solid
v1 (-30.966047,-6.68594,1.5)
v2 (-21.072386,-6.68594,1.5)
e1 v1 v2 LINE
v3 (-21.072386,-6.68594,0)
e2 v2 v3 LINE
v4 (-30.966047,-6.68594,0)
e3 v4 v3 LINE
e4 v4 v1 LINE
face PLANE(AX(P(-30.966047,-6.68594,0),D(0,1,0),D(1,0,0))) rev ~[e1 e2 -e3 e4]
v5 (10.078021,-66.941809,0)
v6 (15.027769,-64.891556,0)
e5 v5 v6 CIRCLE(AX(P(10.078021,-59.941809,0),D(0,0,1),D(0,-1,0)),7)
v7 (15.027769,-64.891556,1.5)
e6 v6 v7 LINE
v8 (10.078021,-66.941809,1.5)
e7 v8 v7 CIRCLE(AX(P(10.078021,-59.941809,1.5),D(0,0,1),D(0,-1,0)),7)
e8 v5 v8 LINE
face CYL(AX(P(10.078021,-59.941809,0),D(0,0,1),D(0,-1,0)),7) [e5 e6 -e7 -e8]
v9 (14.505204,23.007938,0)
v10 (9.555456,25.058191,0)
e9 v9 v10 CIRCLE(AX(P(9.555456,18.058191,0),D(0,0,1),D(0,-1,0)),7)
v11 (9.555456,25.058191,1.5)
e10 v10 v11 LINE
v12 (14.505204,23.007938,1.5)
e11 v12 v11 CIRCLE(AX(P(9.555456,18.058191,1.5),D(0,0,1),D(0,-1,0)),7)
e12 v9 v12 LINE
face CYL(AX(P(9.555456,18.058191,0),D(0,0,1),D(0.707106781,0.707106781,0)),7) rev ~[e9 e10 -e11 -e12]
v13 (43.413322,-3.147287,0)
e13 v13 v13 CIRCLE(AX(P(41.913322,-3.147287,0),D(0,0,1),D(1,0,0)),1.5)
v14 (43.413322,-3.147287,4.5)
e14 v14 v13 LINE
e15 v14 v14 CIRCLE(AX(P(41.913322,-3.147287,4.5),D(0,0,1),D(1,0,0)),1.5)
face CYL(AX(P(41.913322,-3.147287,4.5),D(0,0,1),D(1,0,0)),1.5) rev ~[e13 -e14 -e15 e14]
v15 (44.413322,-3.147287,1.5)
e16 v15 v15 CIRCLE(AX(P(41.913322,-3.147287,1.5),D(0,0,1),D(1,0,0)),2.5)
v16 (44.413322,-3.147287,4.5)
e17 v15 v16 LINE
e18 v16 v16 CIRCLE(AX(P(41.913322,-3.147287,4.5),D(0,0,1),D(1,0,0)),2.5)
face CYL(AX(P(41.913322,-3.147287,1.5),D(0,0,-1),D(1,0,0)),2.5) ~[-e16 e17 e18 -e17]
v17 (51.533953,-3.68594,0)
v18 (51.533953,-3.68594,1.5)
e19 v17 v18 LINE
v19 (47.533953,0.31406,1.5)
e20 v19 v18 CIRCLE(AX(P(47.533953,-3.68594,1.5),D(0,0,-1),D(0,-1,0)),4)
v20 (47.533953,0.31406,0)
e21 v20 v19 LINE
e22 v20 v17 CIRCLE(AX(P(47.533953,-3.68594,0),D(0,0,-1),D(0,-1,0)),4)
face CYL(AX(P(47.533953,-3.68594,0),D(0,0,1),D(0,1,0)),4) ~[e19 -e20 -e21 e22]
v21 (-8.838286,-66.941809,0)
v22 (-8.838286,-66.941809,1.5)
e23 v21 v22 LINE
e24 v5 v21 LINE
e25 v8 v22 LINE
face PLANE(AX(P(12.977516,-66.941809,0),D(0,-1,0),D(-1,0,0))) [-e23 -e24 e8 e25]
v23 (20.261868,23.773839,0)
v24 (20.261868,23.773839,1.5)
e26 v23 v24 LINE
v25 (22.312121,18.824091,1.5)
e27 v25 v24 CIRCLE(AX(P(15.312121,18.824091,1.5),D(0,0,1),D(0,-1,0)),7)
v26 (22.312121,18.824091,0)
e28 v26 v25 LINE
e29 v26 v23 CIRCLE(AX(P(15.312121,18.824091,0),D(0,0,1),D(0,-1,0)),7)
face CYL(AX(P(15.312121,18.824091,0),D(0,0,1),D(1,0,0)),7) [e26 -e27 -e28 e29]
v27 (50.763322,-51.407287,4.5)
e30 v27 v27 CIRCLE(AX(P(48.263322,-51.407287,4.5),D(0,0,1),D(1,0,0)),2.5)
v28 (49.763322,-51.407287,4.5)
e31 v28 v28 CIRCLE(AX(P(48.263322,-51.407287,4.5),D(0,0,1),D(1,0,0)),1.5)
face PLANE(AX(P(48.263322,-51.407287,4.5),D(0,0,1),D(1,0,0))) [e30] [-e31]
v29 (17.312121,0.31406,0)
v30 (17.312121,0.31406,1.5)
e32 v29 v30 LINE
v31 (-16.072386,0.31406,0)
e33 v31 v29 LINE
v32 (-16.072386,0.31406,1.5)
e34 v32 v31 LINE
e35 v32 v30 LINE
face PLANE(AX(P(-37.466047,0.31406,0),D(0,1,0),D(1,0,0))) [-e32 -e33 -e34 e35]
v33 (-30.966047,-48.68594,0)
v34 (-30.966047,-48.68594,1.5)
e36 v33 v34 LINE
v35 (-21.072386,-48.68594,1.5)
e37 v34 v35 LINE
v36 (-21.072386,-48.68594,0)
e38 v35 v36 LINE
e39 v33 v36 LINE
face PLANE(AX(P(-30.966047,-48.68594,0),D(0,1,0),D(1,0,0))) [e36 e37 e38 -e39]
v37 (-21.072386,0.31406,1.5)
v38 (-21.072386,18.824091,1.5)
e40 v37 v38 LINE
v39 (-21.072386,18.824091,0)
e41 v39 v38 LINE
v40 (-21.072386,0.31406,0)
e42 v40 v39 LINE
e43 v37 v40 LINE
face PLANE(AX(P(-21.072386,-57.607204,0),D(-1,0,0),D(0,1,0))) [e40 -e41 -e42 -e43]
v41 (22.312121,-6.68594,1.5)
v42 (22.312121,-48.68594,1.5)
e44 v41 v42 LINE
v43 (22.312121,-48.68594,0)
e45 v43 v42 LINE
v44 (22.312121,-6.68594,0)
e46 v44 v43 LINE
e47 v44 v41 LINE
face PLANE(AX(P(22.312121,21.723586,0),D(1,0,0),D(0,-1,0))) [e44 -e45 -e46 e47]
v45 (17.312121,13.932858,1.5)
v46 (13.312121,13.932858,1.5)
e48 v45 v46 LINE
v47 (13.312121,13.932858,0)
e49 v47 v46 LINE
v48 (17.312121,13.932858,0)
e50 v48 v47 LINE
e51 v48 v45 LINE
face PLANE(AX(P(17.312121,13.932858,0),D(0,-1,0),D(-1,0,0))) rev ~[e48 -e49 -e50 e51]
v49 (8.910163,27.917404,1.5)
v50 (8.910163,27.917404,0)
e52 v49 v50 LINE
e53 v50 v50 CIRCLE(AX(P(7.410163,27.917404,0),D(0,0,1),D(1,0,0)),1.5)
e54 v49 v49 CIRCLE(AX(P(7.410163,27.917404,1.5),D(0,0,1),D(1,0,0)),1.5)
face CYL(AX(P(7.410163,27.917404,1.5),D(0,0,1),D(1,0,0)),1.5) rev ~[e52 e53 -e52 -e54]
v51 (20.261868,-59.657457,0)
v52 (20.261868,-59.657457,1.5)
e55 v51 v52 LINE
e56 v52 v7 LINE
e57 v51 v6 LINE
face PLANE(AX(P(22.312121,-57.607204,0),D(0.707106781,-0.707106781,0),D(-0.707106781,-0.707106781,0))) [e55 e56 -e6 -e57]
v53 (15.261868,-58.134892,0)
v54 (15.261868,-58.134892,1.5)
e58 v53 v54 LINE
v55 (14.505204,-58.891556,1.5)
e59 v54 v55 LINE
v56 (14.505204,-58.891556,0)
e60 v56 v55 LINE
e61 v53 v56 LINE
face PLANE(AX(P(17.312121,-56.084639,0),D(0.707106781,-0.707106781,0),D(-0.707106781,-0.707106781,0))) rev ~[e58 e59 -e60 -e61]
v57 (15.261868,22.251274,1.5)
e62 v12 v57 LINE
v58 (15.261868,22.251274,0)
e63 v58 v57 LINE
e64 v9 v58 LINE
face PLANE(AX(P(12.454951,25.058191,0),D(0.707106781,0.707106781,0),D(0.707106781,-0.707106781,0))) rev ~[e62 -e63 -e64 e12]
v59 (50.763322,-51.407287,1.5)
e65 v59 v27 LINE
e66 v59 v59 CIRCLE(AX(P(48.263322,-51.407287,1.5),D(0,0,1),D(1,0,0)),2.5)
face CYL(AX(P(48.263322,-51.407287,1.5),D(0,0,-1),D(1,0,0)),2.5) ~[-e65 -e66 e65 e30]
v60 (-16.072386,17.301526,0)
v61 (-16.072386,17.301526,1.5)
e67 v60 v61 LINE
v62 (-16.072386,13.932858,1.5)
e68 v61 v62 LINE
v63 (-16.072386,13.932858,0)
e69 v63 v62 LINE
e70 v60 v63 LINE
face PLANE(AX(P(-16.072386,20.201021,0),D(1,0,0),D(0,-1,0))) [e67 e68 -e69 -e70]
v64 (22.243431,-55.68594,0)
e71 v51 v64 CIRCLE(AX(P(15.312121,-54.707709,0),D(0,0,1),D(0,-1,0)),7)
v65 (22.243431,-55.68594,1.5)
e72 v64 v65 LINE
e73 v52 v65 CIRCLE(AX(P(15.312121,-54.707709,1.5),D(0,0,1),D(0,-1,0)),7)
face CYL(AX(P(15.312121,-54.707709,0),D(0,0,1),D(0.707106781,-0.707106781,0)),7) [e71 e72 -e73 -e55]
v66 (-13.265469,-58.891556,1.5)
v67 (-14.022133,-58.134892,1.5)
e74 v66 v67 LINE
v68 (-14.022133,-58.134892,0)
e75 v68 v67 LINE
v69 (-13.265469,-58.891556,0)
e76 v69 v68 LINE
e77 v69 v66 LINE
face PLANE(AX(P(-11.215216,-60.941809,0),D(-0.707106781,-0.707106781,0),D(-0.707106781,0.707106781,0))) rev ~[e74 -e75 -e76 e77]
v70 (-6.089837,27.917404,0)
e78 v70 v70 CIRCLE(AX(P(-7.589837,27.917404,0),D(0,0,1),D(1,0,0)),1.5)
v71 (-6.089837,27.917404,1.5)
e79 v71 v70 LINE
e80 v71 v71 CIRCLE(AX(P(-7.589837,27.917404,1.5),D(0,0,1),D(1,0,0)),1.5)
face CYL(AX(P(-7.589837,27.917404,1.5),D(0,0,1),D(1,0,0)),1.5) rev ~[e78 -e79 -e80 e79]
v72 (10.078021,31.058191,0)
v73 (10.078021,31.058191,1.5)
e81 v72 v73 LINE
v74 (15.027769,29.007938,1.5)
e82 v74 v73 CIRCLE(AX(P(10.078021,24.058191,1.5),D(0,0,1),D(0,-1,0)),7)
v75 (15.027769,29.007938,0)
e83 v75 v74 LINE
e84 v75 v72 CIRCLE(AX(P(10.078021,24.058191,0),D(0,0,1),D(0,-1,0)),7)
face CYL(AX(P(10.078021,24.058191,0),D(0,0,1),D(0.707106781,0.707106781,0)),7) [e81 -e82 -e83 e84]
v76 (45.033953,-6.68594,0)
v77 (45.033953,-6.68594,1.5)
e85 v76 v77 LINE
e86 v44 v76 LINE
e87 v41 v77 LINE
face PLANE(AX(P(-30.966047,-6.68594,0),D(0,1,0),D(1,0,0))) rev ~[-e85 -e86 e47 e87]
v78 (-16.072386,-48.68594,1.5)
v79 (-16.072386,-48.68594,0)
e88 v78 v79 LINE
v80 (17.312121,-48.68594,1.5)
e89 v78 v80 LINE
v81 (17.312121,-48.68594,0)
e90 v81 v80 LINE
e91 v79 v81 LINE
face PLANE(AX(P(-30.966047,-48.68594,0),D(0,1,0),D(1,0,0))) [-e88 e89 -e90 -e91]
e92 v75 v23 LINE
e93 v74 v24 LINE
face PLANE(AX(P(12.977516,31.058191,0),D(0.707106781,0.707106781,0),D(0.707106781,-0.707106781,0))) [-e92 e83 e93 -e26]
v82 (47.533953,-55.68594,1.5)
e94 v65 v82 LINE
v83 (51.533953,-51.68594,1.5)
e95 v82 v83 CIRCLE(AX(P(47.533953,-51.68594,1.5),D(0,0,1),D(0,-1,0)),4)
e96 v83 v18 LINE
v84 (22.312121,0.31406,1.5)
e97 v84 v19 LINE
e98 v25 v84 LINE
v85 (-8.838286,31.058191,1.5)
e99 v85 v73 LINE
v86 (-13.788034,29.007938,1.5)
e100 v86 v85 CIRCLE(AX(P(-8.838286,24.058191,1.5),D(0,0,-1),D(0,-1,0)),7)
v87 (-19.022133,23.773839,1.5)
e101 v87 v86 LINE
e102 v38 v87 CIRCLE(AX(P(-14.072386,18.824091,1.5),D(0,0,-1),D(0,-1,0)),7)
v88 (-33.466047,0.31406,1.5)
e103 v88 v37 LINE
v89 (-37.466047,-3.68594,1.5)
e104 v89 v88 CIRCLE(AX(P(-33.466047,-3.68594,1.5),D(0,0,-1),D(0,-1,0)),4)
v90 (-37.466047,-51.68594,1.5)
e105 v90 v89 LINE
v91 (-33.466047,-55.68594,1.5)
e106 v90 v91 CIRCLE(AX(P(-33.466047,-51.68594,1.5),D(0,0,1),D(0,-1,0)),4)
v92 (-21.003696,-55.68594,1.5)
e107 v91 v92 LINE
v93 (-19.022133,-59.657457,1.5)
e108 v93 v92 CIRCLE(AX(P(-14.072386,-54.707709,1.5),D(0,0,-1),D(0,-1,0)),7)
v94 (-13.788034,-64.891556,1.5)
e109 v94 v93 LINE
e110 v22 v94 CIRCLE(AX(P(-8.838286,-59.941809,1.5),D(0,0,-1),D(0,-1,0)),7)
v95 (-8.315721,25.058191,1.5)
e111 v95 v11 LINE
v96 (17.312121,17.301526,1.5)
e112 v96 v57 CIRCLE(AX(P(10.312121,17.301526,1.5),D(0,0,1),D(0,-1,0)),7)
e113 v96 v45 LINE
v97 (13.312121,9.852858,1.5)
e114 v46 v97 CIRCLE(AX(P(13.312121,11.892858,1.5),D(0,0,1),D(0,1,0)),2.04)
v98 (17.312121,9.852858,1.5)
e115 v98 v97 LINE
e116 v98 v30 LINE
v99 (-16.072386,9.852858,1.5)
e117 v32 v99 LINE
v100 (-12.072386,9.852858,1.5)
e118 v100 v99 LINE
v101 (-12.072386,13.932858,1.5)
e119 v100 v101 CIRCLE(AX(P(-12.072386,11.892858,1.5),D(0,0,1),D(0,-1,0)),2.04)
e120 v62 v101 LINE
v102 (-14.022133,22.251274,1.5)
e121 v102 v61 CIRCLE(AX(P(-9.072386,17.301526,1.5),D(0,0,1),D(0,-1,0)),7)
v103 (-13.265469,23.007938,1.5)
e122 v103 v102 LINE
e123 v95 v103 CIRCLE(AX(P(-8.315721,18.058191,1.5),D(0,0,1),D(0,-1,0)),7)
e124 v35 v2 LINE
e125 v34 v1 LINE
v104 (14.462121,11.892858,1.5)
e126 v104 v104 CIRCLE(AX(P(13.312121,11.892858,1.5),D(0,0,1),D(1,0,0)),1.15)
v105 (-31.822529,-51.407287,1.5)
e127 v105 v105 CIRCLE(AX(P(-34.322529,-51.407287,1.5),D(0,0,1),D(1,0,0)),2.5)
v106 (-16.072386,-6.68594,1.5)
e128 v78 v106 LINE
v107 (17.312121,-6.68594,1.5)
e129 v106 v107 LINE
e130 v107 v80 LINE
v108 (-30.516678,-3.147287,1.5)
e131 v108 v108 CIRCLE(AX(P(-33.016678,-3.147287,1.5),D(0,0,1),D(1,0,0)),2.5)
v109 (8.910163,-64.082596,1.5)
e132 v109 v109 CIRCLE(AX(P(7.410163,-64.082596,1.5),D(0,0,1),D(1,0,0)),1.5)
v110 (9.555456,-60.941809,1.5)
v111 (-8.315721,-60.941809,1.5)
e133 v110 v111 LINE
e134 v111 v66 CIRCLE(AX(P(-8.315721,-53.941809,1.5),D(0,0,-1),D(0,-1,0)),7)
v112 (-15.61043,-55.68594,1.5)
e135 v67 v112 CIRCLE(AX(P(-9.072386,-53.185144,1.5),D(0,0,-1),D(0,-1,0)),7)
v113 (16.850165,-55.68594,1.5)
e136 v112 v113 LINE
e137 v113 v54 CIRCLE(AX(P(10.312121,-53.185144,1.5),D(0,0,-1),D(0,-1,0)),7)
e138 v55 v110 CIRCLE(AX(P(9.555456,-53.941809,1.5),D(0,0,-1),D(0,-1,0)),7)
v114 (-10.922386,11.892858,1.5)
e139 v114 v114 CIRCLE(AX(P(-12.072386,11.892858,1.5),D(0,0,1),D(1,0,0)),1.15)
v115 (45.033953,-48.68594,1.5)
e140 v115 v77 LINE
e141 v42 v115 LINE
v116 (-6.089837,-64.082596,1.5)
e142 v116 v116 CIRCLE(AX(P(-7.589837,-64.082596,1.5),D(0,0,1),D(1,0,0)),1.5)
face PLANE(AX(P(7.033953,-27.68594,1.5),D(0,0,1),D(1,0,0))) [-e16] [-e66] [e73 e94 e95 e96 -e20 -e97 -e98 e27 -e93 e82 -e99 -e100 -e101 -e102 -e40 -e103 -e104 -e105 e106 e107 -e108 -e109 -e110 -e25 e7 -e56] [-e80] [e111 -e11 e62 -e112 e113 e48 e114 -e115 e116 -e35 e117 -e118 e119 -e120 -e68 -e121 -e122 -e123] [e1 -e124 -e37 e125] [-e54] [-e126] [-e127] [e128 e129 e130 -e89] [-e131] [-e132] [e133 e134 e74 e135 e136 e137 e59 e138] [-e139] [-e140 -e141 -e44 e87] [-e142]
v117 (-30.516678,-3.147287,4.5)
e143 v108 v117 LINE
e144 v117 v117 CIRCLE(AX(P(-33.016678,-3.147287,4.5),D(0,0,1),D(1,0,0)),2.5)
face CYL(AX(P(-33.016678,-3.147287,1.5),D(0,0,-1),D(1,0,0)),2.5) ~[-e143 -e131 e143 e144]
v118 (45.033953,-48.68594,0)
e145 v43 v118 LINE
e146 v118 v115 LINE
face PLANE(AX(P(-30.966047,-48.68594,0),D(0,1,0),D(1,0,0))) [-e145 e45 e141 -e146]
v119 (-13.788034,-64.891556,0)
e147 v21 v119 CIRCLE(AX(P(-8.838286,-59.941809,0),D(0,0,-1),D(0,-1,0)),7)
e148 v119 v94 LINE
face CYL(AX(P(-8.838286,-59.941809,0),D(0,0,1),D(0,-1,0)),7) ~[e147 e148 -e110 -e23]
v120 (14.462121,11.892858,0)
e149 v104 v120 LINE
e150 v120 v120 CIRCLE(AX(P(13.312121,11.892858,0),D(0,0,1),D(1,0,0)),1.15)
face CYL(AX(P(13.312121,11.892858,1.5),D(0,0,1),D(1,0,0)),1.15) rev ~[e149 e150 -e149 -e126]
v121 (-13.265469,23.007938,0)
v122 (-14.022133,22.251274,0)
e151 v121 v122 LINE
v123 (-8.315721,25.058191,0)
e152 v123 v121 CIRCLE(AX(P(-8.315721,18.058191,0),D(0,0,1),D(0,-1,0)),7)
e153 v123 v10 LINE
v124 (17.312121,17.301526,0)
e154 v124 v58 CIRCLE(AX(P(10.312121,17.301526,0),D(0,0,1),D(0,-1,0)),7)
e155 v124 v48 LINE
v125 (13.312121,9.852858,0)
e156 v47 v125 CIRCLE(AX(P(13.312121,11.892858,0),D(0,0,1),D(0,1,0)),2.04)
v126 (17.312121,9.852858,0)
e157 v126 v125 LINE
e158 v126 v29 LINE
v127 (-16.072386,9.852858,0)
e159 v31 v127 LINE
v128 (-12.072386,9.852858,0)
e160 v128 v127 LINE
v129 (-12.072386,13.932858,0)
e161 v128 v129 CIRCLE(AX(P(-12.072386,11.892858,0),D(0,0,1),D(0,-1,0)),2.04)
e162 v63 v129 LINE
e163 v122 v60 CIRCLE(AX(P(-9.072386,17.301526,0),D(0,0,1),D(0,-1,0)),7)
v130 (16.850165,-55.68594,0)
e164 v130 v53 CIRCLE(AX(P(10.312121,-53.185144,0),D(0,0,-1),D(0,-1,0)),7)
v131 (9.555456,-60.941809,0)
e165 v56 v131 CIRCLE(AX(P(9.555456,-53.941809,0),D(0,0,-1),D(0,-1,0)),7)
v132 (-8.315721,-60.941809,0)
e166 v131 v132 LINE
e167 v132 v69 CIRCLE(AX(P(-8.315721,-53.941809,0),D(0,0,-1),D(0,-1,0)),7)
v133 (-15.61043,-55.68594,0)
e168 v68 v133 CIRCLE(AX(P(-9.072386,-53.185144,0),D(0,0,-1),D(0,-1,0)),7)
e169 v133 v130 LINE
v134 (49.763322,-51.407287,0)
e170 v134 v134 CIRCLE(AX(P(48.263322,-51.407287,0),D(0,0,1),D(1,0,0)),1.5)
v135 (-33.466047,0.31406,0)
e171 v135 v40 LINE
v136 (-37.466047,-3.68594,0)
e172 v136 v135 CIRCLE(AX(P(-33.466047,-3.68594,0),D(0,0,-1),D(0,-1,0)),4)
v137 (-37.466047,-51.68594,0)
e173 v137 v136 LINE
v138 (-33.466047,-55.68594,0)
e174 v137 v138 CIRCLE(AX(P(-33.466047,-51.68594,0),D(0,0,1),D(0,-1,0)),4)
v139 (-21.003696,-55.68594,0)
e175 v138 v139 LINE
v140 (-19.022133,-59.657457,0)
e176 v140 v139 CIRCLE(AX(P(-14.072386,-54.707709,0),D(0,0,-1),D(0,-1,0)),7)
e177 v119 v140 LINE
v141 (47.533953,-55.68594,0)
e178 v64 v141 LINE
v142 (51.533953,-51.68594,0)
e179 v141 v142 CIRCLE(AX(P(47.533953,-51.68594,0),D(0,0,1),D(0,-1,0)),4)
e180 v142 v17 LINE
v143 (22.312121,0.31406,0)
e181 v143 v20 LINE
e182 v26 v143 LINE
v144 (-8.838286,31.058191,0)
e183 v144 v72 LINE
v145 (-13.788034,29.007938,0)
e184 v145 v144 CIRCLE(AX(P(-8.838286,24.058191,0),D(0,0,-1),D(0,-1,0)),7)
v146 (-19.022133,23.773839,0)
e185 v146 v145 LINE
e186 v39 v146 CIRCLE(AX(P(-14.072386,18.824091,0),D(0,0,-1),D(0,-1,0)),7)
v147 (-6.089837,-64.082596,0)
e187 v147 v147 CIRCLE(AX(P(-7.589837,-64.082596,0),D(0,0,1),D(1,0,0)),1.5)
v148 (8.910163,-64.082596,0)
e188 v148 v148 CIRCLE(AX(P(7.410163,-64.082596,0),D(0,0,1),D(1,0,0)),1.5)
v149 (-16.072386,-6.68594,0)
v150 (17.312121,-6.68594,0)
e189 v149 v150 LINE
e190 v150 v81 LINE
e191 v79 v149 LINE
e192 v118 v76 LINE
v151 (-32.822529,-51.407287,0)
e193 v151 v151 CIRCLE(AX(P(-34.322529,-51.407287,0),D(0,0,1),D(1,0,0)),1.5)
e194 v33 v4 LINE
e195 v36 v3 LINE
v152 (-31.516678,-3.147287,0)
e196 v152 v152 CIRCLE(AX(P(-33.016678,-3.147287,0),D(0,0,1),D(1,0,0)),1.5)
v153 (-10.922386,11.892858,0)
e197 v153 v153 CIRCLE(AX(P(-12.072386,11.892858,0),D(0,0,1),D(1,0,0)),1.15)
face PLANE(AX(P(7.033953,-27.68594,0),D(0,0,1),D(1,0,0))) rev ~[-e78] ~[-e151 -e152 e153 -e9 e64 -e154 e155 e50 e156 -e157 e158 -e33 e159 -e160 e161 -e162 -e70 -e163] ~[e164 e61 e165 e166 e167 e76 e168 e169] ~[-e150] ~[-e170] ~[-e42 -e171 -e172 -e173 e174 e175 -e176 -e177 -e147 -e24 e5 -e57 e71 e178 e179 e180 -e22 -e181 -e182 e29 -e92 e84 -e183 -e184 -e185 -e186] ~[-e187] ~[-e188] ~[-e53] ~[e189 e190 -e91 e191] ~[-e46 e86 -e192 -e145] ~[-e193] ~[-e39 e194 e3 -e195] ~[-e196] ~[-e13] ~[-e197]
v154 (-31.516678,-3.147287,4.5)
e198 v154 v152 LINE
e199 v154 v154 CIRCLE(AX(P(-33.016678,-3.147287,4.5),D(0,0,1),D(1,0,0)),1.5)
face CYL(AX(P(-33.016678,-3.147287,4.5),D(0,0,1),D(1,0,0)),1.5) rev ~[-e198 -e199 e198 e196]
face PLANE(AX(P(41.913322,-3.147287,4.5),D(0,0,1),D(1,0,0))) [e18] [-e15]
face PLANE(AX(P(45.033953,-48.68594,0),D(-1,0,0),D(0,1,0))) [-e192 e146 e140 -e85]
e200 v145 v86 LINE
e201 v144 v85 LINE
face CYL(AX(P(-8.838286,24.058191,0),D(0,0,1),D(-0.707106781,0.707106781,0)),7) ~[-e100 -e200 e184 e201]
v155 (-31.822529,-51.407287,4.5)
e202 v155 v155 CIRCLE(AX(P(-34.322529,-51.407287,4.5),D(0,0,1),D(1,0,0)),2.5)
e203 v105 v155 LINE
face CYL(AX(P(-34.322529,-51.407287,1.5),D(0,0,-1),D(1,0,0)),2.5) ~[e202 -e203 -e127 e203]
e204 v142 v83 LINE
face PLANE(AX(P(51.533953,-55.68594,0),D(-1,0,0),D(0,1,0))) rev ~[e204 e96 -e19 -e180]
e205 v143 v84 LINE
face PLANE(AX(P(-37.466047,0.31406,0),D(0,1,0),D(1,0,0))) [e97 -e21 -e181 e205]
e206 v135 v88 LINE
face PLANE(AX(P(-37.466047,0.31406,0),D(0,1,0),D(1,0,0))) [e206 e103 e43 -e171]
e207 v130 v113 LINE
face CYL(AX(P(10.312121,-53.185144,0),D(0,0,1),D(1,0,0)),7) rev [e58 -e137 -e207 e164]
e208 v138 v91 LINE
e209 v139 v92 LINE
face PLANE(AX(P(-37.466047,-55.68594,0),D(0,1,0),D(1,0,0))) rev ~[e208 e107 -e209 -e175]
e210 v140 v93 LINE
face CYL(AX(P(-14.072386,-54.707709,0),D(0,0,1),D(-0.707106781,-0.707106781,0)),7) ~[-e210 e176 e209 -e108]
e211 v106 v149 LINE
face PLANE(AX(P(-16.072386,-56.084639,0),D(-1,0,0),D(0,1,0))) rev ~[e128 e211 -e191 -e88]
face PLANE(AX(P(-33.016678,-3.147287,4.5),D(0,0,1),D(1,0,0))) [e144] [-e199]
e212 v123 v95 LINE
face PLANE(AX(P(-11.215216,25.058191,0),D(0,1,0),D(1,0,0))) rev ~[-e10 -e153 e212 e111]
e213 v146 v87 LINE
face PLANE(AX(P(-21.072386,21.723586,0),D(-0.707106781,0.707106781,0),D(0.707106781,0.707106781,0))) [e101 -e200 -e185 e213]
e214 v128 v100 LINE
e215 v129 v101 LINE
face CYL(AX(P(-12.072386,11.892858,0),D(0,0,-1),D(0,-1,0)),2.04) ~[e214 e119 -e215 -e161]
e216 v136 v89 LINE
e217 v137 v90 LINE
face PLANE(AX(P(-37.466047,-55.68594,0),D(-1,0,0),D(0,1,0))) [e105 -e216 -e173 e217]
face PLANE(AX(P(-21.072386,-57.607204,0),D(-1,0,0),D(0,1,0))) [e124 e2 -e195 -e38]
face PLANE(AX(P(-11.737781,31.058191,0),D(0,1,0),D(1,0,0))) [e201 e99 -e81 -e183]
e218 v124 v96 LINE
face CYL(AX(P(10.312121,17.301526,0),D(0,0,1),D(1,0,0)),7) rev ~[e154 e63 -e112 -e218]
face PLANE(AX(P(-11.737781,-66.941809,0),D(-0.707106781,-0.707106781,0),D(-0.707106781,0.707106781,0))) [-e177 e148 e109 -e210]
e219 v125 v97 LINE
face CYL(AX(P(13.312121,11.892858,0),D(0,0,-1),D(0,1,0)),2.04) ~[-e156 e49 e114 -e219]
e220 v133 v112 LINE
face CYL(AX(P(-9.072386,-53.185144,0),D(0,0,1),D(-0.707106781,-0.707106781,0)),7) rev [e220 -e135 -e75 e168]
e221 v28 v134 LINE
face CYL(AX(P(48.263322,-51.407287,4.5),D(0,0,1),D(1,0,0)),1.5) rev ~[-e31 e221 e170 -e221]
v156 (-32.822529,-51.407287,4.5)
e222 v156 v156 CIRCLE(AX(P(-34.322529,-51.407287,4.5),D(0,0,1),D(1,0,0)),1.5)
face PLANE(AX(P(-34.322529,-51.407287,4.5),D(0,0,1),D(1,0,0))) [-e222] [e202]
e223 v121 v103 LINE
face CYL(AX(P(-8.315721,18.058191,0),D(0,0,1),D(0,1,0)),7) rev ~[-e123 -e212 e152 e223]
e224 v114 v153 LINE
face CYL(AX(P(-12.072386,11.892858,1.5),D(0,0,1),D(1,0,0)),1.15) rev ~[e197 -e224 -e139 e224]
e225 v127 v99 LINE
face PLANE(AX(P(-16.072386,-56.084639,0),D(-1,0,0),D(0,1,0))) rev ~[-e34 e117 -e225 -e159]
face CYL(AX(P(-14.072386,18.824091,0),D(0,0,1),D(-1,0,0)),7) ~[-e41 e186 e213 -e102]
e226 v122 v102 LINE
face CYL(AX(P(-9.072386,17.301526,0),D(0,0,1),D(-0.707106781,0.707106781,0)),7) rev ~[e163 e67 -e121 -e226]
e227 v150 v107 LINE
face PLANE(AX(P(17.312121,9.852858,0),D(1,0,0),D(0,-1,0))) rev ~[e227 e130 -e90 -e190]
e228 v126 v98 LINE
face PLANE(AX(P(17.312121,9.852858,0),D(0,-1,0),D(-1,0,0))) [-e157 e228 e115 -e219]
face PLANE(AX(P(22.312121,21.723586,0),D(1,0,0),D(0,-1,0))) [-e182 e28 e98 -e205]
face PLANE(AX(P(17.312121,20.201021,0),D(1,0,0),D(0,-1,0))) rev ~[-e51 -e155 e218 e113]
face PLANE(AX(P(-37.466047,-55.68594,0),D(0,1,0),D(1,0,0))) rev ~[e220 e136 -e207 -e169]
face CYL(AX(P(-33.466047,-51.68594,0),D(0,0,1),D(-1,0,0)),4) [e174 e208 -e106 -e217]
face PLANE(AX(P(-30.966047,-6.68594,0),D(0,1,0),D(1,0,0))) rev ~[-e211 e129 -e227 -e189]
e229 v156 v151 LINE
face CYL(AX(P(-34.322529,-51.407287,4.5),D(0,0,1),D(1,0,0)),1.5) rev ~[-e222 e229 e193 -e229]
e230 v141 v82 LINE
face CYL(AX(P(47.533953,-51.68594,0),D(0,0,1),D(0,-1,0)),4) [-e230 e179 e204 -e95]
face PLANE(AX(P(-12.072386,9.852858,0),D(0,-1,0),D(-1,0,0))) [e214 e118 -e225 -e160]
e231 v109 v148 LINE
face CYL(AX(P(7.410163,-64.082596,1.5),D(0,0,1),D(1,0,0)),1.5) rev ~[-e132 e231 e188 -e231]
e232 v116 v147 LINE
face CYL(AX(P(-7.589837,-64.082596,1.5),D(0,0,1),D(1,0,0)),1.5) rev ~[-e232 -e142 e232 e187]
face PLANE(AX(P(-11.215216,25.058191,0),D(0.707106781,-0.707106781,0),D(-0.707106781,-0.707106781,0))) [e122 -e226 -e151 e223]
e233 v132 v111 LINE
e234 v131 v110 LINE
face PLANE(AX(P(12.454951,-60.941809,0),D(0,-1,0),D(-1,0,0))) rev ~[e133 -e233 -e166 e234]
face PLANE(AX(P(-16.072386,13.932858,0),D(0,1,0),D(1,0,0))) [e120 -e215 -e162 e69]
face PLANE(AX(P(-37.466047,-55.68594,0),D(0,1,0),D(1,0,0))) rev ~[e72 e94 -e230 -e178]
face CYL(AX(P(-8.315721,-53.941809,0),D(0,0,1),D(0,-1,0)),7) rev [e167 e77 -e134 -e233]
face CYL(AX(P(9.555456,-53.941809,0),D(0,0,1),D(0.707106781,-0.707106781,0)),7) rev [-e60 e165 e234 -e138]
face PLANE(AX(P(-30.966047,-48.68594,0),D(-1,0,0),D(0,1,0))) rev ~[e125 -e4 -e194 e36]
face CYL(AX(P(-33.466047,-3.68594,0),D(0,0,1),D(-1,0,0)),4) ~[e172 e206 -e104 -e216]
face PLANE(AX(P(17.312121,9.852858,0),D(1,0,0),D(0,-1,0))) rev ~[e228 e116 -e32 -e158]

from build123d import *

# Parameters (mm, degrees)
SKETCH_W        = 89
SKETCH_H        = 56
SKETCH_W_2      = 76
SKETCH_H_2      = 42
PAD_DEPTH       = 1.5
SKETCH001_R     = 2.5
PAD001_DEPTH    = 3
SKETCH002_R     = 1.5
POCKET_DEPTH    = 4.501
FILLET_R        = 4
PAD002_DEPTH    = 1.5
SKETCH004_R     = 1.5
SKETCH004_R_2   = 1.15
POCKET001_DEPTH = 1.501
FILLET001_R     = 7


with BuildPart() as arduinosupport:
    # Sketch → Pad (new body)
    with BuildSketch(Plane.XY):
        with Locations((7.033953, -27.68594)):
            Rectangle(SKETCH_W, SKETCH_H)
        with Locations((7.033953, -27.68594)):
            Rectangle(SKETCH_W_2, SKETCH_H_2, mode=Mode.SUBTRACT)
    extrude(amount=PAD_DEPTH)

    # Sketch001 (on Face10 of Pad) → Pad001 (join)
    with BuildSketch(Plane.XY.offset(1.5)):
        with Locations((-33.016678, -3.147287)):
            Circle(SKETCH001_R)
        with Locations((-34.322529, -51.407287)):
            Circle(SKETCH001_R)
        with Locations((41.913322, -3.147287)):
            Circle(SKETCH001_R)
        with Locations((48.263322, -51.407287)):
            Circle(SKETCH001_R)
    extrude(amount=PAD001_DEPTH)

    # Sketch002 (on Face15 of Pad001) → Pocket (cut, through all)
    with BuildSketch(Plane.XY.offset(4.5)):
        with Locations((-33.016678, -3.147287)):
            Circle(SKETCH002_R)
        with Locations((-34.322529, -51.407287)):
            Circle(SKETCH002_R)
        with Locations((48.263322, -51.407287)):
            Circle(SKETCH002_R)
        with Locations((41.913322, -3.147287)):
            Circle(SKETCH002_R)
    extrude(amount=-POCKET_DEPTH, mode=Mode.SUBTRACT)

    # Fillet
    fillet_edges = [arduinosupport.edges().sort_by_distance(p)[0] for p in [
        (51.533953, 0.31406, 0.75),
        (51.533953, -55.68594, 0.75),
        (-37.466047, -55.68594, 0.75),
        (-37.466047, 0.31406, 0.75),
    ]]
    fillet(fillet_edges, radius=FILLET_R)


with BuildPart() as muxsupport:
    # Sketch003 → Pad002 (new body)
    with BuildSketch(Plane.XY):
        Polygon((12.977516, -66.941809), (-11.737781, -66.941809), (-21.072386, -57.607204), (-21.072386, 21.723586), (-11.737781, 31.058191), (12.977516, 31.058191), (22.312121, 21.723586), (22.312121, -57.607204), align=None)
        with BuildLine():
            Line((17.312121, 20.201021), (17.312121, 13.932858))
            Line((17.312121, 13.932858), (13.312121, 13.932858))
            ThreePointArc((13.312121, 13.932858), (11.272121, 11.892858), (13.312121, 9.852858))
            Line((17.312121, 9.852858), (13.312121, 9.852858))
            Line((17.312121, 9.852858), (17.312121, -56.084639))
            Line((17.312121, -56.084639), (12.454951, -60.941809))
            Line((12.454951, -60.941809), (-11.215216, -60.941809))
            Line((-11.215216, -60.941809), (-16.072386, -56.084639))
            Line((-16.072386, -56.084639), (-16.072386, 9.852858))
            Line((-12.072386, 9.852858), (-16.072386, 9.852858))
            ThreePointArc((-12.072386, 9.852858), (-10.032386, 11.892858), (-12.072386, 13.932858))
            Line((-16.072386, 13.932858), (-12.072386, 13.932858))
            Line((-16.072386, 20.201021), (-16.072386, 13.932858))
            Line((-11.215216, 25.058191), (-16.072386, 20.201021))
            Line((-11.215216, 25.058191), (12.454951, 25.058191))
            Line((12.454951, 25.058191), (17.312121, 20.201021))
        make_face(mode=Mode.SUBTRACT)
    extrude(amount=PAD002_DEPTH)

    # Sketch004 (on Face26 of Pad002) → Pocket001 (cut, through all)
    with BuildSketch(Plane.XY.offset(1.5)):
        with Locations((-7.589837, 27.917404)):
            Circle(SKETCH004_R)
        with Locations((7.410163, 27.917404)):
            Circle(SKETCH004_R)
        with Locations((-7.589837, -64.082596)):
            Circle(SKETCH004_R)
        with Locations((7.410163, -64.082596)):
            Circle(SKETCH004_R)
        with Locations((13.312121, 11.892858)):
            Circle(SKETCH004_R_2)
        with Locations((-12.072386, 11.892858)):
            Circle(SKETCH004_R_2)
    extrude(amount=-POCKET001_DEPTH, mode=Mode.SUBTRACT)

    # Fillet001
    fillet001_edges = [muxsupport.edges().sort_by_distance(p)[0] for p in [
        (12.977516, -66.941809, 0.75),
        (22.312121, -57.607204, 0.75),
        (-11.737781, -66.941809, 0.75),
        (-21.072386, -57.607204, 0.75),
        (-16.072386, -56.084639, 0.75),
        (17.312121, -56.084639, 0.75),
        (12.454951, -60.941809, 0.75),
        (-11.215216, -60.941809, 0.75),
        (-21.072386, 21.723586, 0.75),
        (-11.737781, 31.058191, 0.75),
        (22.312121, 21.723586, 0.75),
        (12.977516, 31.058191, 0.75),
        (-16.072386, 20.201021, 0.75),
        (-11.215216, 25.058191, 0.75),
        (12.454951, 25.058191, 0.75),
        (17.312121, 20.201021, 0.75),
    ]]
    fillet(fillet001_edges, radius=FILLET001_R)

    # Boolean: union ArduinoSupport
    add(arduinosupport.part)


solid = muxsupport.part
